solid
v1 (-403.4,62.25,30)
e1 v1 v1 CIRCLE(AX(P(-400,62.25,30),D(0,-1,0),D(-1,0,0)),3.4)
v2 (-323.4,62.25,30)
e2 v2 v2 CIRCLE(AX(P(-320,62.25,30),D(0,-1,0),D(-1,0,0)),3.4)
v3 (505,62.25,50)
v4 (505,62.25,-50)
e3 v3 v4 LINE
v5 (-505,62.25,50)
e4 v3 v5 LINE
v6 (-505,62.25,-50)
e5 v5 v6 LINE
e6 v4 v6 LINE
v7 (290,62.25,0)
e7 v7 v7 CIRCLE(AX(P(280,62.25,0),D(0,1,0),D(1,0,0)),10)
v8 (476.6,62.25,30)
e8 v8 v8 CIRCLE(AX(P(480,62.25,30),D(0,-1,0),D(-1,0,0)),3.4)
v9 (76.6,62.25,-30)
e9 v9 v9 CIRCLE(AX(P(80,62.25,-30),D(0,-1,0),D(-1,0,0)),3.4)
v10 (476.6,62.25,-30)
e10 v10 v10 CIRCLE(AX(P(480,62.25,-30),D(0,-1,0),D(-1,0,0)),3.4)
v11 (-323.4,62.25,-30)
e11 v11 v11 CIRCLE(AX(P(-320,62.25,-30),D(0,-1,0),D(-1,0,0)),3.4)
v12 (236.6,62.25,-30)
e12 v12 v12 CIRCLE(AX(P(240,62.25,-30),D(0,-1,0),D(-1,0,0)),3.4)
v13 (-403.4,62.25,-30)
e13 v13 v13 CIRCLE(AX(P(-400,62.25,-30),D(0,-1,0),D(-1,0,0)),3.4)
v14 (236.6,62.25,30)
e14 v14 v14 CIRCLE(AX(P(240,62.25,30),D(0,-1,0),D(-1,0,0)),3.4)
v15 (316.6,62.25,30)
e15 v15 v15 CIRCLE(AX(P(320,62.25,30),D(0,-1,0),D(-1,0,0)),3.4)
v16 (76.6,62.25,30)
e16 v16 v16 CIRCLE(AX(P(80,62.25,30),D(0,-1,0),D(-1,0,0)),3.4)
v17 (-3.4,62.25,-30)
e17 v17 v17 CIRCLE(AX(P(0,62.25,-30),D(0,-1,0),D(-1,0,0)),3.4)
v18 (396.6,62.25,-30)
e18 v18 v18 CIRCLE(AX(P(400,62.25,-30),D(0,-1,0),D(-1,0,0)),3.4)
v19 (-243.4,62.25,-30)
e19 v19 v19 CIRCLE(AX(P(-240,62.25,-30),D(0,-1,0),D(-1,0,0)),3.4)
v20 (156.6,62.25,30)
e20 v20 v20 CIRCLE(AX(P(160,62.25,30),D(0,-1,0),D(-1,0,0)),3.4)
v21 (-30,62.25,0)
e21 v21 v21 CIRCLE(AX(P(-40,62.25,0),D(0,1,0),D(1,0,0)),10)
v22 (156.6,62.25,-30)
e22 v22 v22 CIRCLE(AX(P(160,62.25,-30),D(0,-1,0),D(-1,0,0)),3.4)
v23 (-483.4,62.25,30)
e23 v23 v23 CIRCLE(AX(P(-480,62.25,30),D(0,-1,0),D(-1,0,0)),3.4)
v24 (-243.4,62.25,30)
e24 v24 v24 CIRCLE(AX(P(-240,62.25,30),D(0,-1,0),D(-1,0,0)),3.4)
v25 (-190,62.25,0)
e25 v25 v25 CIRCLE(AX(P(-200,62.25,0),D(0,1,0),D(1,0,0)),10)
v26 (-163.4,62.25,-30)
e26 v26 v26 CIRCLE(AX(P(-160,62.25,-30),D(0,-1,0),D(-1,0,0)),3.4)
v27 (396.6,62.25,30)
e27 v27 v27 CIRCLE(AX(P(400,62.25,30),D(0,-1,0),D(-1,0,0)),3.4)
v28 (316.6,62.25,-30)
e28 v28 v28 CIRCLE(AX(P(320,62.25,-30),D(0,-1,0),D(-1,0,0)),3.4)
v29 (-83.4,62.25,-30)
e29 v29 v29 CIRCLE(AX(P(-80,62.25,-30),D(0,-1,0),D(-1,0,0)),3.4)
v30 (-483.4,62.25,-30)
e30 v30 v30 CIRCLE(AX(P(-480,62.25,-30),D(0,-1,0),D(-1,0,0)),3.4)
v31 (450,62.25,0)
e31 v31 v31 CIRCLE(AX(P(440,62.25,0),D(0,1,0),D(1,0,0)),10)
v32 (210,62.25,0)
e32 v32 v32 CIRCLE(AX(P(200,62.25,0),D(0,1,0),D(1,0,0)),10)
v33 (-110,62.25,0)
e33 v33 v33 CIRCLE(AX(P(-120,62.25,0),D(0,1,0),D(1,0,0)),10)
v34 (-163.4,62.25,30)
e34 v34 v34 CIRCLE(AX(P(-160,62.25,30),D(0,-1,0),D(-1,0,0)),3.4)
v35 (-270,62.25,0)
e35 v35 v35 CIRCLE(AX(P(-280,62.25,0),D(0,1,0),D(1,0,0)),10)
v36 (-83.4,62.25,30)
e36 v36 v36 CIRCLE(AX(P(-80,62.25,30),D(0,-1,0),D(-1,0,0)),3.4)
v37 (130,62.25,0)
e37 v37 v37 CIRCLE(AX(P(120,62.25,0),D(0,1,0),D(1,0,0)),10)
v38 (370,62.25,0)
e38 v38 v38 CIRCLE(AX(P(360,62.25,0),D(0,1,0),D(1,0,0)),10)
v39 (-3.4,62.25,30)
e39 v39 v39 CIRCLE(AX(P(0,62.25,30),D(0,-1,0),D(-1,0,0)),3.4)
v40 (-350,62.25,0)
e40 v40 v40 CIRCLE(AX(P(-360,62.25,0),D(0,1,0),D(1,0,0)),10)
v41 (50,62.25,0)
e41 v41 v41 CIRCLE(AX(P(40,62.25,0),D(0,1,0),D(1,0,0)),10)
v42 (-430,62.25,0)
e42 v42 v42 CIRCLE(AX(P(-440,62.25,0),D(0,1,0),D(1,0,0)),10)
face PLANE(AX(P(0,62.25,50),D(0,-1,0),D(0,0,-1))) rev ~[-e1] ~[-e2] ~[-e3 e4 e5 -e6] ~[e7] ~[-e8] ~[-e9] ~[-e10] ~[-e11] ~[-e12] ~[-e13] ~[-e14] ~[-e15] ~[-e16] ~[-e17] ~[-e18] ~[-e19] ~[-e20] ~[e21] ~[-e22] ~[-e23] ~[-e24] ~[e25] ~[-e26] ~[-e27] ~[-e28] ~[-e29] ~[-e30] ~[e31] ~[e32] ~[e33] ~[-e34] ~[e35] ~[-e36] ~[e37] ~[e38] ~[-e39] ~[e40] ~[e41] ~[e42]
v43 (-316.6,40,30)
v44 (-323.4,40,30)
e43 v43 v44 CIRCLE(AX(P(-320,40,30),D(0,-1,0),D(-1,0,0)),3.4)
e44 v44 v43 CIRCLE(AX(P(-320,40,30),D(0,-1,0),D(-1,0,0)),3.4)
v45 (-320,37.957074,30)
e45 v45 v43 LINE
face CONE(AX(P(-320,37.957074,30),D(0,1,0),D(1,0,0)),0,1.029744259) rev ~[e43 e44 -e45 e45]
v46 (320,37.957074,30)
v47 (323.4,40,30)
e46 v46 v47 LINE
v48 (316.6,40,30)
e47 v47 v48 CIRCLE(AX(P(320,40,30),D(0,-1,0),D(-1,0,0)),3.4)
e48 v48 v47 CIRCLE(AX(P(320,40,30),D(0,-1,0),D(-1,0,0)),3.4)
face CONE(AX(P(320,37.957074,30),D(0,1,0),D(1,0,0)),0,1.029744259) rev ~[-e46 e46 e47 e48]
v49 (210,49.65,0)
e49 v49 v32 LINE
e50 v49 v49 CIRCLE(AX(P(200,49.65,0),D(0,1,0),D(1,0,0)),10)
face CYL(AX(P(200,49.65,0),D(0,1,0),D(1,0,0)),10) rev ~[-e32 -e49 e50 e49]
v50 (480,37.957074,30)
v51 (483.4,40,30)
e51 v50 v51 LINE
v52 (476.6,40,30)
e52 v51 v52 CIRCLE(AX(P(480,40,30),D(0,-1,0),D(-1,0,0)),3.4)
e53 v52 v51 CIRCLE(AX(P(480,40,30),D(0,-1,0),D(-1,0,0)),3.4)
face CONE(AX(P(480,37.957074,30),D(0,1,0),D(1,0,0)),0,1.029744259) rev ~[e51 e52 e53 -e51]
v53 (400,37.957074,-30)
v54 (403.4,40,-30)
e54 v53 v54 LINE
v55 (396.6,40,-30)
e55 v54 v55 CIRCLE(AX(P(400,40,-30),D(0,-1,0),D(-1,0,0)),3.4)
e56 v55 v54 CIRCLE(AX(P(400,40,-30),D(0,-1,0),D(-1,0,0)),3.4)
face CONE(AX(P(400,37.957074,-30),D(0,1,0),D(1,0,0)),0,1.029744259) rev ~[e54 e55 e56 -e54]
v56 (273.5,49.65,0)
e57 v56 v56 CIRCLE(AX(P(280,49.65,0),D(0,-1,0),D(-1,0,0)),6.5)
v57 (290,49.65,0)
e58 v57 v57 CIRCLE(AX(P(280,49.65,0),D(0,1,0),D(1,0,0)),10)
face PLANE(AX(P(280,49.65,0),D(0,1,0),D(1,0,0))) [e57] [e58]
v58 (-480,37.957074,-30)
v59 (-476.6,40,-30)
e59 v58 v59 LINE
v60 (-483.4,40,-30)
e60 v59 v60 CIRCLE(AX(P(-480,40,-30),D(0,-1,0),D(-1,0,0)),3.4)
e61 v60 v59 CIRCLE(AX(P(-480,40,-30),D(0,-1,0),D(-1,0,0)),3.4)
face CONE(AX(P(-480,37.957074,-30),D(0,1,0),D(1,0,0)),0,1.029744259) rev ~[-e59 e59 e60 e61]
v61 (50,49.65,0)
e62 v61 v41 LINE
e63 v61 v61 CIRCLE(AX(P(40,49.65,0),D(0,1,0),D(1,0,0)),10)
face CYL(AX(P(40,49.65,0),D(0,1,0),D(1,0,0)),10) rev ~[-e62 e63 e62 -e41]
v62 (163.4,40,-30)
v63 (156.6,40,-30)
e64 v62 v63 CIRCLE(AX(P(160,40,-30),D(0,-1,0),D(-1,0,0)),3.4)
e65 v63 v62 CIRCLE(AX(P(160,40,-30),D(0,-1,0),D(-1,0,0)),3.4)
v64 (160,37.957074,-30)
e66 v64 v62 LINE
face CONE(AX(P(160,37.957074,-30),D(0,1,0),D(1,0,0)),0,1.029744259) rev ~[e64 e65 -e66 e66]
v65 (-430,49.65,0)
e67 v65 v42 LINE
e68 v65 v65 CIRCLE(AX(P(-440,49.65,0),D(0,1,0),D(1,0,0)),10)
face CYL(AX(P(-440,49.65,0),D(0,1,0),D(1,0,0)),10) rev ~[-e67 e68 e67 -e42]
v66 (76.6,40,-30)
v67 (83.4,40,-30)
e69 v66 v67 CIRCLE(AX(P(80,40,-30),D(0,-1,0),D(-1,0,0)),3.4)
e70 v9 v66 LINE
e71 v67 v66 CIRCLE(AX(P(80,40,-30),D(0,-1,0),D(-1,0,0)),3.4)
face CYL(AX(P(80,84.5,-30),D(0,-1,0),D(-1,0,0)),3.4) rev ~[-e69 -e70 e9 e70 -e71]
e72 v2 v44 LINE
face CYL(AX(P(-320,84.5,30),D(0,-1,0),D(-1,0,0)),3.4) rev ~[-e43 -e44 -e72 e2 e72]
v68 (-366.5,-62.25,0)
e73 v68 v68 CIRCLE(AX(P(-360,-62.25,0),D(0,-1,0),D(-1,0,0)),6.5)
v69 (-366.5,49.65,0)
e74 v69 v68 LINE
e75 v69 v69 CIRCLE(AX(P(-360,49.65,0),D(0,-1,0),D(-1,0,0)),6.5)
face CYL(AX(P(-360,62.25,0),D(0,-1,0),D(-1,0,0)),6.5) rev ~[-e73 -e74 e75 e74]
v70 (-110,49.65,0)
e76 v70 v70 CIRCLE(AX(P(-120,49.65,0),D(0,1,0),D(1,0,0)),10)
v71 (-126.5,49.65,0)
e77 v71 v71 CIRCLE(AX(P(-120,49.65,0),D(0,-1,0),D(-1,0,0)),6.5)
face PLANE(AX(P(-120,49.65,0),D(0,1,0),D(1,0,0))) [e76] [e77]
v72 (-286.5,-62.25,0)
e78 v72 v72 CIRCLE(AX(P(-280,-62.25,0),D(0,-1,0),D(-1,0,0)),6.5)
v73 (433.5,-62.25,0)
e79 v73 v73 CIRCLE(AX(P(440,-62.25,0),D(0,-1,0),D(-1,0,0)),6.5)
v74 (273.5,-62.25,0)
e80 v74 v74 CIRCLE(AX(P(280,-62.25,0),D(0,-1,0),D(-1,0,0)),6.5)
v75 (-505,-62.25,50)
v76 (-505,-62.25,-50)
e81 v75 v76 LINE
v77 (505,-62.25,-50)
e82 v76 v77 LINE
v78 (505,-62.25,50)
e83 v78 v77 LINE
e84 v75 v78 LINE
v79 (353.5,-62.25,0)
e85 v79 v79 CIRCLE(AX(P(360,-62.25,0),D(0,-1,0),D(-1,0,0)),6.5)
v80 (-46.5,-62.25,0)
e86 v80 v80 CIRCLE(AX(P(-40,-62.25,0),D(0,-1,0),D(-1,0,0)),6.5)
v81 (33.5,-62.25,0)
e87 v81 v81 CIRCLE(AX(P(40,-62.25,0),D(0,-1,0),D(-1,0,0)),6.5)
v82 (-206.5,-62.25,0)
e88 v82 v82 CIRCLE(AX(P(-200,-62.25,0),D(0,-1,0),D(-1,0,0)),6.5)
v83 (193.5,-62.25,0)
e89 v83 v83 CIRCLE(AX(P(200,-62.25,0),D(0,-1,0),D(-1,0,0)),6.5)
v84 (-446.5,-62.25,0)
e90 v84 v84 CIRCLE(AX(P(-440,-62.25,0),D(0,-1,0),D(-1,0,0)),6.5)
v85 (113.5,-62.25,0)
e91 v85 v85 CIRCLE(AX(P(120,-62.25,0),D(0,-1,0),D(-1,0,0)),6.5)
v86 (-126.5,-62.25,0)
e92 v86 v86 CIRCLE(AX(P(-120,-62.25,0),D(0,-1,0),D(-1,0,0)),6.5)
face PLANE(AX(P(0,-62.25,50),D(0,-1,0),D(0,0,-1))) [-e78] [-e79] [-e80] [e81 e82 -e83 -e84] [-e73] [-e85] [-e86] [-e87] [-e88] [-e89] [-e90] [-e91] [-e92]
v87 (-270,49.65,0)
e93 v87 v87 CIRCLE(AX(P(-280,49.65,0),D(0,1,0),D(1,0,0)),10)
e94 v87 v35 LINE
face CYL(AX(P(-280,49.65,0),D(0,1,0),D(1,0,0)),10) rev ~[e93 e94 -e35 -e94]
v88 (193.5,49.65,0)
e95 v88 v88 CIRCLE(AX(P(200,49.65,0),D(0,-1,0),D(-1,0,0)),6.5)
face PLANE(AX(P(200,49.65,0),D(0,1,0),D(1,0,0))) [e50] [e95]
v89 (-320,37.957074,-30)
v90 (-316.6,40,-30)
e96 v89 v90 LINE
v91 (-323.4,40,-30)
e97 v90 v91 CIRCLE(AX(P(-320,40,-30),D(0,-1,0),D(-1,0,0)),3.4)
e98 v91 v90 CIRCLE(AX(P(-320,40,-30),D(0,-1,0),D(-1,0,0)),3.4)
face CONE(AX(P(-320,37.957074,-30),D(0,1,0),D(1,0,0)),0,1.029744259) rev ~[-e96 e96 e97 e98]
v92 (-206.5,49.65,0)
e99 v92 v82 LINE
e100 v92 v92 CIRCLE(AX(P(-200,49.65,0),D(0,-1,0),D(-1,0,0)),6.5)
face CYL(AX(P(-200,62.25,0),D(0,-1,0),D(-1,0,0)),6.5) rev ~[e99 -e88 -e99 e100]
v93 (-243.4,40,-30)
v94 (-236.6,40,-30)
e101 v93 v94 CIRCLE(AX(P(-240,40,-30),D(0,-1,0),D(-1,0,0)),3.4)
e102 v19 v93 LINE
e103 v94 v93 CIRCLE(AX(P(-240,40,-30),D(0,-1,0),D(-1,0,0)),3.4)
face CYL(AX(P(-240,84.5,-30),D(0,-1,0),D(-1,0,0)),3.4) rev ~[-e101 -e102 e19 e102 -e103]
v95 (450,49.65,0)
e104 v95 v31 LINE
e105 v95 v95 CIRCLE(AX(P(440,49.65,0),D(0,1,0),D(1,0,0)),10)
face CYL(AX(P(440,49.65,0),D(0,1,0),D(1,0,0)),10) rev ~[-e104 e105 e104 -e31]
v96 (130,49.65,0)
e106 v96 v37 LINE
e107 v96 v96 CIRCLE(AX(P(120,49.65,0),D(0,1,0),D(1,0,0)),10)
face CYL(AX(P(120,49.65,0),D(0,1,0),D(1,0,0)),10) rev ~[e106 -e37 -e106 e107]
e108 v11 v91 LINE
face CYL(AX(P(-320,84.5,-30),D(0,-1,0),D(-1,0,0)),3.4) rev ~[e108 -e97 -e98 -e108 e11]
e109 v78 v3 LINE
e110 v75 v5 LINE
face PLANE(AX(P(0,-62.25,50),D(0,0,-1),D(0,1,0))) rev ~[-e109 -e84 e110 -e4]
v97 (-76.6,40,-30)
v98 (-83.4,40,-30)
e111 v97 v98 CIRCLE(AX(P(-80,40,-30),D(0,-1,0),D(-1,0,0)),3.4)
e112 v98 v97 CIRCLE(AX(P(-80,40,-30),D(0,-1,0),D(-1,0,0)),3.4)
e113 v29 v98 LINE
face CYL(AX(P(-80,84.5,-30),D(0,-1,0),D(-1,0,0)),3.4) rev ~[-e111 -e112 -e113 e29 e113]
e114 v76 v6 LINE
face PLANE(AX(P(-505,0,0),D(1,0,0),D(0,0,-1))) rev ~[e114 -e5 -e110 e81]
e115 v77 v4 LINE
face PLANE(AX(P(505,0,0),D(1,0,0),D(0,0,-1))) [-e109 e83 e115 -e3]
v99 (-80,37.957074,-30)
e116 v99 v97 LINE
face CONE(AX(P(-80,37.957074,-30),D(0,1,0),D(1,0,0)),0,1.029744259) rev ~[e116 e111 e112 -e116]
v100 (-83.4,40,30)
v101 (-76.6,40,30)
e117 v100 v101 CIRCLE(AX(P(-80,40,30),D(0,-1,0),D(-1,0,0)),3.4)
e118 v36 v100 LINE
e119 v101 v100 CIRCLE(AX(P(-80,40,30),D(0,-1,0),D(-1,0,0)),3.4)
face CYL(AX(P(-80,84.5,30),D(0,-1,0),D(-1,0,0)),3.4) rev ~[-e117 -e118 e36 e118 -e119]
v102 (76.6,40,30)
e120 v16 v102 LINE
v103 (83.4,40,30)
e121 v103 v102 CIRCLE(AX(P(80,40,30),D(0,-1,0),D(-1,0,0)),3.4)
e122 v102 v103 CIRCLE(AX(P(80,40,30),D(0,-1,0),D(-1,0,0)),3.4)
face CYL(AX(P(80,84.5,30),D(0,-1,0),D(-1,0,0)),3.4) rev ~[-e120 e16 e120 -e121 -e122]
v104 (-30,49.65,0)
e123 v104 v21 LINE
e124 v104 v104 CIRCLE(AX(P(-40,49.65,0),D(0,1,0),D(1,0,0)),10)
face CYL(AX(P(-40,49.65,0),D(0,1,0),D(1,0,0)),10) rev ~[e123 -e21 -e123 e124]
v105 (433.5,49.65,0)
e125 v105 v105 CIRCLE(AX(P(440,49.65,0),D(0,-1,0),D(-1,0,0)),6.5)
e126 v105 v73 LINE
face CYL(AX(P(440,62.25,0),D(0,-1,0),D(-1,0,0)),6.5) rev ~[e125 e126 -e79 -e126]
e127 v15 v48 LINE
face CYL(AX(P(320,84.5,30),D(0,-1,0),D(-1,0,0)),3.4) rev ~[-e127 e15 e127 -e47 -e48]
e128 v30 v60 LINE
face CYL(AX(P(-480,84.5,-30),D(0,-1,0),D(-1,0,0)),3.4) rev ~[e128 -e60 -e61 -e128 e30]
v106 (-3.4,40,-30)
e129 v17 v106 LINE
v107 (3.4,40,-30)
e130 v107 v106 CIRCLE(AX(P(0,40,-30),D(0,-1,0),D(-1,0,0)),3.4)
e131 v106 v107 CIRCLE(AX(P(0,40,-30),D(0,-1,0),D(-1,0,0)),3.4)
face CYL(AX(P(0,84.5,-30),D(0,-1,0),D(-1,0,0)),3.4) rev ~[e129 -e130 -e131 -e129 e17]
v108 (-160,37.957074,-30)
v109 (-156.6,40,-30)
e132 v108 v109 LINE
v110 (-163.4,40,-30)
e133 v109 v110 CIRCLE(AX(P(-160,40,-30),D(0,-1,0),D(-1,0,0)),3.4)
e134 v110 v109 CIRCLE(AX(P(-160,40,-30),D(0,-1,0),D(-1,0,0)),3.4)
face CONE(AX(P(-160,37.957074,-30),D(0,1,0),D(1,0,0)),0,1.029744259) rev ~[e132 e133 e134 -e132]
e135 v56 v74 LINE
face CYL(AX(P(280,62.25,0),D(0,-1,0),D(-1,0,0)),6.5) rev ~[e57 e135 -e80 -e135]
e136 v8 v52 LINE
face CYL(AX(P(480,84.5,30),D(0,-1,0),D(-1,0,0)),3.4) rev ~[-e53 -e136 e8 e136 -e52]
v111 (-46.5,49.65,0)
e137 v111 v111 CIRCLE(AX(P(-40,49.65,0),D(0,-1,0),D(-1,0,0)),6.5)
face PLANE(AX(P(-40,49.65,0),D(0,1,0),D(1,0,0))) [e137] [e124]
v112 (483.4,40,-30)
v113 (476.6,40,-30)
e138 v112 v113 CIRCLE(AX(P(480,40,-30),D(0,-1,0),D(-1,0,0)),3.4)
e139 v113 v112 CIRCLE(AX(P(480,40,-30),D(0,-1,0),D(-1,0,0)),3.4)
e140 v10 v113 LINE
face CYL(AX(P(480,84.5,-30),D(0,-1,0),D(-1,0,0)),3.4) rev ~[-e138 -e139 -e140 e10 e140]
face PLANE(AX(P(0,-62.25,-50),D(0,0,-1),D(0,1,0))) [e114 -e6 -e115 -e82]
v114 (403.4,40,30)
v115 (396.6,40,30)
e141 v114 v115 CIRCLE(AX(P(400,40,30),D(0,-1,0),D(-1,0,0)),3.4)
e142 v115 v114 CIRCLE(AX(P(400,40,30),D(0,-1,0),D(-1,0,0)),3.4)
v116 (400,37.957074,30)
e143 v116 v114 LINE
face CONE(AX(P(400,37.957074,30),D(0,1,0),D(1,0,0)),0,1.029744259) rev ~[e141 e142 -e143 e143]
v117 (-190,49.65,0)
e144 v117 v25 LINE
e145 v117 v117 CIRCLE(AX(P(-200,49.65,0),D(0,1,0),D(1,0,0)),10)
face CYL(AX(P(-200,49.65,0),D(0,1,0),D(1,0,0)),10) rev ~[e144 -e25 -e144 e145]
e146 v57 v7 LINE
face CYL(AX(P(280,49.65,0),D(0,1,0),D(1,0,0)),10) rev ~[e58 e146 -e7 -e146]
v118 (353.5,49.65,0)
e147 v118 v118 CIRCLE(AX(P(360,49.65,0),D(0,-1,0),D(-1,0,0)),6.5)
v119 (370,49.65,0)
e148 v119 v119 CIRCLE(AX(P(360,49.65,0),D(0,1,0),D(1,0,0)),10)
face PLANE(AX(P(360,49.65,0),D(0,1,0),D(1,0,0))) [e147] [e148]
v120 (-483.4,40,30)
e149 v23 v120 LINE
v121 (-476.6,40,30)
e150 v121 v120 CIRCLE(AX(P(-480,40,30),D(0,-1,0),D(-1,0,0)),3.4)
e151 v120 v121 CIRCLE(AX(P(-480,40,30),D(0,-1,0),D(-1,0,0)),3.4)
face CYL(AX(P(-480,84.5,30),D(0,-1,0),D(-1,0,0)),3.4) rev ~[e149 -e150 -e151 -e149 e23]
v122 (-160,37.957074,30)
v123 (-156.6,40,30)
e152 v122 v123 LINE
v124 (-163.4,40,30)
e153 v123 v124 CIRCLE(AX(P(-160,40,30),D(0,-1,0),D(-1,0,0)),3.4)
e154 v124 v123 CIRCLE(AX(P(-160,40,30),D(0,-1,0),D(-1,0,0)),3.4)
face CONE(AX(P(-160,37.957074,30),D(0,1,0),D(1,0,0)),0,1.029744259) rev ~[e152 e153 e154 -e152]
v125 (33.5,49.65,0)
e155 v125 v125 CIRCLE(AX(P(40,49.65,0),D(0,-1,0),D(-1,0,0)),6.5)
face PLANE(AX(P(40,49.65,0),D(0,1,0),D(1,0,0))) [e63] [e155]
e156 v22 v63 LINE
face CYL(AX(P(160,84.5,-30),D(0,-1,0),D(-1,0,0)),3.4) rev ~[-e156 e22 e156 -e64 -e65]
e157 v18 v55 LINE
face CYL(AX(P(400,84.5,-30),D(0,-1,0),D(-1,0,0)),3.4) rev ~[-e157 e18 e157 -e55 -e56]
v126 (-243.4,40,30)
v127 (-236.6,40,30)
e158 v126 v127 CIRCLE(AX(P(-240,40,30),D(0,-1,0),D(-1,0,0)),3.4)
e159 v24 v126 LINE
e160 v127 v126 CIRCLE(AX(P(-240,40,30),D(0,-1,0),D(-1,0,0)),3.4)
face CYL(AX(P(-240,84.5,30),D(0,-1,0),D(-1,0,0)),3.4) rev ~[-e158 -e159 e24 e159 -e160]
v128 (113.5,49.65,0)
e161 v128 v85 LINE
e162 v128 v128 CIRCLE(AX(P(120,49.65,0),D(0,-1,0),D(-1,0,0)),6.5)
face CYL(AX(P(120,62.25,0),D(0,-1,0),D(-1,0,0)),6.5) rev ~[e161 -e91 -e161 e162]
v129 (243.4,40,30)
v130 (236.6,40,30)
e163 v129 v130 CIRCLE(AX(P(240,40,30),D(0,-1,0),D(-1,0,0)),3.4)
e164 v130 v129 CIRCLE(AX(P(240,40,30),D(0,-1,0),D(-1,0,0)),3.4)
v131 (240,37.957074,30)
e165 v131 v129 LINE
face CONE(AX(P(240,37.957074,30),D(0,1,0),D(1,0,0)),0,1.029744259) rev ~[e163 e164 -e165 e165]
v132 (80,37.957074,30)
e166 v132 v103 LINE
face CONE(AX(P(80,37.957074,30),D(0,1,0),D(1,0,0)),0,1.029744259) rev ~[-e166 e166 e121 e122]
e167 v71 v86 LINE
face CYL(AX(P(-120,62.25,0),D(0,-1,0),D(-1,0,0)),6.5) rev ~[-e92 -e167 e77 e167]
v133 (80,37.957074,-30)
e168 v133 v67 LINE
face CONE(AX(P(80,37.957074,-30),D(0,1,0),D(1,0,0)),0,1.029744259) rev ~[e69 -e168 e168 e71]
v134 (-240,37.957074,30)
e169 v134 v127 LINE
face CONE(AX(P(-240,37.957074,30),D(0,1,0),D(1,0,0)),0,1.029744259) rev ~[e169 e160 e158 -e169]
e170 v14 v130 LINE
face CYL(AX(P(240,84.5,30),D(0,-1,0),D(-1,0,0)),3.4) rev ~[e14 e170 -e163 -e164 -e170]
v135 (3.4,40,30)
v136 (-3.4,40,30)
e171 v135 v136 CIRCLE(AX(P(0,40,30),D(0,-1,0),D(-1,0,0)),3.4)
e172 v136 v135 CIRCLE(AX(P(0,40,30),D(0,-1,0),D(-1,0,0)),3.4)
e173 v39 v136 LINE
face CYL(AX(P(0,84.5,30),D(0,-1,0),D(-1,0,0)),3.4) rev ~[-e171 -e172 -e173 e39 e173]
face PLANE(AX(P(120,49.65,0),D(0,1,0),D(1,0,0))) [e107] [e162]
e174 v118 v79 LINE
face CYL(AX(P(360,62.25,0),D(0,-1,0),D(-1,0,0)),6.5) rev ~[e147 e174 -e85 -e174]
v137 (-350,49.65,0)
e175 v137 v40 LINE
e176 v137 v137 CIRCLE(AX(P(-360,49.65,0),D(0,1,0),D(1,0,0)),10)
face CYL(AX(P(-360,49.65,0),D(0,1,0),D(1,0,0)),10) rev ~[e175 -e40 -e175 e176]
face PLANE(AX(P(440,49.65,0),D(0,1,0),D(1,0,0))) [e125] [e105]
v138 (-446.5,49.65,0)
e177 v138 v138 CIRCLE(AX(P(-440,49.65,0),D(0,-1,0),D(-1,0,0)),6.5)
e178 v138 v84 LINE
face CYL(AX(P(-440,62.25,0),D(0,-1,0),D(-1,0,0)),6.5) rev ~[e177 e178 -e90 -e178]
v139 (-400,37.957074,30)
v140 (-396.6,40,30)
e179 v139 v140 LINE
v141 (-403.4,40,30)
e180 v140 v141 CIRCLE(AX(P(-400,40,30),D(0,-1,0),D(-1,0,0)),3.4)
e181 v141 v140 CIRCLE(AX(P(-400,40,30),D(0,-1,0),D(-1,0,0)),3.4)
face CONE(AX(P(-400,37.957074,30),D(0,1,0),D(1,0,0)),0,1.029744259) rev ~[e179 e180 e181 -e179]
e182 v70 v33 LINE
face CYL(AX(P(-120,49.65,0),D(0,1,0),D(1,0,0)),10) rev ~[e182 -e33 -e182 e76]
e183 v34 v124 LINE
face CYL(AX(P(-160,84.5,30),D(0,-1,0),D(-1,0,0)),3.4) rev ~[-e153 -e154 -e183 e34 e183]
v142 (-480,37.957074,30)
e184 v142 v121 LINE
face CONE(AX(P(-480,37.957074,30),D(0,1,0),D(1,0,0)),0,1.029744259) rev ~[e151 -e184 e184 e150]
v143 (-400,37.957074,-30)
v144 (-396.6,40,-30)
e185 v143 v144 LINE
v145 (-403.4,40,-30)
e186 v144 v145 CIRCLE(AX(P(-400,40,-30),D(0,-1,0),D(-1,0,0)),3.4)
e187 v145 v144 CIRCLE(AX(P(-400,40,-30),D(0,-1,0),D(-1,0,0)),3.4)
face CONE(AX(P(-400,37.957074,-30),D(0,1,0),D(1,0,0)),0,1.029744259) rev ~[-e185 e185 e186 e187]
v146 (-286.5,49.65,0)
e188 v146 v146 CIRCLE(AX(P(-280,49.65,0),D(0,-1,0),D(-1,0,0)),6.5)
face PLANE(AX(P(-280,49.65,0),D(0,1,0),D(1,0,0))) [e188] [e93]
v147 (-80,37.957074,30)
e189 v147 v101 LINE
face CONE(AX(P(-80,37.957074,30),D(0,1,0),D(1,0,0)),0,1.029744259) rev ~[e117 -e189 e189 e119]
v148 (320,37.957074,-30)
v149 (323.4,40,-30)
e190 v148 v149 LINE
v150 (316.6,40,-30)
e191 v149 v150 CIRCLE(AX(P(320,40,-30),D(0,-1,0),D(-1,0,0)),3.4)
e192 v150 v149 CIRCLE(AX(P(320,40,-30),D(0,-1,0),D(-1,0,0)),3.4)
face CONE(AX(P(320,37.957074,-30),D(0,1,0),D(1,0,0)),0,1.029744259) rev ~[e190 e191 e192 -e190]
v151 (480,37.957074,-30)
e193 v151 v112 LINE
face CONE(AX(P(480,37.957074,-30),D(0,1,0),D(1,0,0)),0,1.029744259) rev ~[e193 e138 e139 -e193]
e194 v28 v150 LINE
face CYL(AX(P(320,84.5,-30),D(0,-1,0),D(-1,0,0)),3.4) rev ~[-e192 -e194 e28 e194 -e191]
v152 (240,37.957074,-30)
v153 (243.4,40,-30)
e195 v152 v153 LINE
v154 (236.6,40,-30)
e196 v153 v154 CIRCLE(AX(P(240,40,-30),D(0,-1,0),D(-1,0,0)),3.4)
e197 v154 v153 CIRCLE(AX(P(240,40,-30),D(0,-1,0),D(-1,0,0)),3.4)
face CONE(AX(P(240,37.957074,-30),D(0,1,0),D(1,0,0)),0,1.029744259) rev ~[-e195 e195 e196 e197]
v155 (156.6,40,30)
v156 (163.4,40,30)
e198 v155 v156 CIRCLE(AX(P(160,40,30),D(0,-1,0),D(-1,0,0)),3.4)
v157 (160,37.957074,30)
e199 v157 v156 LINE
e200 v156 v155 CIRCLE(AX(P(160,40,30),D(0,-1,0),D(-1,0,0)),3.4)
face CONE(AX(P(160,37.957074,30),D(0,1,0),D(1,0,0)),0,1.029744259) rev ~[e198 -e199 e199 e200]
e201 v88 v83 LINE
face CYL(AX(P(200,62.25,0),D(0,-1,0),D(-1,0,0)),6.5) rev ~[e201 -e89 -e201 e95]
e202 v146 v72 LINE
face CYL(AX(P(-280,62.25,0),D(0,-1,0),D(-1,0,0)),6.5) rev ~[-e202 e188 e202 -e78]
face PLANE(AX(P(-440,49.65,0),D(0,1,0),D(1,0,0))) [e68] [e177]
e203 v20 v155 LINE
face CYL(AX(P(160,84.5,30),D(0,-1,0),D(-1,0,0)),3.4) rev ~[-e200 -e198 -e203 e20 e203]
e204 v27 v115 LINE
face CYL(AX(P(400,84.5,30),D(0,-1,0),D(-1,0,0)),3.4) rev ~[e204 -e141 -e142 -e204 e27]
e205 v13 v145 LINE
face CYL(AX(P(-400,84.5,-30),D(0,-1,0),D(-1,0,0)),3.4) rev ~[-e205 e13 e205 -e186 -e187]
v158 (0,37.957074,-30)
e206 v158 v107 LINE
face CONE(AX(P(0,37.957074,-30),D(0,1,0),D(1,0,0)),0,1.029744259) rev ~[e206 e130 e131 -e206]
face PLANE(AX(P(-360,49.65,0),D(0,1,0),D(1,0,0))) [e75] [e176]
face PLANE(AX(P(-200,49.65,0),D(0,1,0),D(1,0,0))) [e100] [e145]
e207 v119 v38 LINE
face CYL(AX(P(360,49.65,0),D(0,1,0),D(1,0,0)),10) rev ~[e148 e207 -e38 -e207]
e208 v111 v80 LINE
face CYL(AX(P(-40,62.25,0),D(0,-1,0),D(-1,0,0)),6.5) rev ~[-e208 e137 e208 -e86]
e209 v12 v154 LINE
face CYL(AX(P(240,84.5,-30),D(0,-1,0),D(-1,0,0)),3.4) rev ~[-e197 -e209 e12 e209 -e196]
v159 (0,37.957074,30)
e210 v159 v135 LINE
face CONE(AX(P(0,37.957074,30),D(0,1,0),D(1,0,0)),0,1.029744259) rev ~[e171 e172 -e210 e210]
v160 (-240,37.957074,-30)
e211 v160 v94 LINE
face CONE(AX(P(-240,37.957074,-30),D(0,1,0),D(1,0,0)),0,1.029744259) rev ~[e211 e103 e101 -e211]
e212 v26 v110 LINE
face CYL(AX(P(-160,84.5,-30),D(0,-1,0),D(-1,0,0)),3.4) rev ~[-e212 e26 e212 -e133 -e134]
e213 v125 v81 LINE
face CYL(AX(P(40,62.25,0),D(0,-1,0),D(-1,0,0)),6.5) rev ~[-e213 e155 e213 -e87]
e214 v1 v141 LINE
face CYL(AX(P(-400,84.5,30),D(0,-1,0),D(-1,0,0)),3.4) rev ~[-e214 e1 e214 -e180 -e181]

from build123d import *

# Parameters (mm, degrees)
SKETCH1_W                                            = 100
SKETCH1_H                                            = 124.5
BOSS_EXTRUDE1_DEPTH                                  = 505
M8_TAPPED_HOLE1_D                                    = 6.8
M8_TAPPED_HOLE1_DEPTH                                = 22.25
M8_TAPPED_HOLE1_TIP                                  = 2.042926105
CBORE_FOR_M12_HEX_SOCKET_HEAD_CAP_SCREW1_D           = 13
CBORE_FOR_M12_HEX_SOCKET_HEAD_CAP_SCREW1_CBORE_D     = 20
CBORE_FOR_M12_HEX_SOCKET_HEAD_CAP_SCREW1_CBORE_DEPTH = 12.6
LPATTERN1_COUNT                                      = 12
LPATTERN1_PITCH                                      = 80


with BuildPart() as part:
    # Sketch1 → Boss-Extrude1 (new, symmetric)
    with BuildSketch(Plane(origin=(0, 0, 0), x_dir=(0, 0, -1), z_dir=(1, 0, 0))):
        Rectangle(SKETCH1_W, SKETCH1_H)
    extrude(amount=BOSS_EXTRUDE1_DEPTH, both=True)

    # M8 Tapped Hole1
    with Locations(Plane(origin=(0, 62.25, 0), x_dir=(1, 0, 0), z_dir=(0, 1, 0))):
        with Locations((480, 30), (480, -30), (400, 30), (400, -30), (320, 30), (320, -30), (240, -30), (240, 30), (160, 30), (160, -30), (80, 30), (80, -30), (0, -30), (0, 30), (-80, -30), (-80, 30), (-160, -30), (-160, 30), (-240, -30), (-240, 30), (-320, -30), (-320, 30), (-400, -30), (-400, 30), (-480, 30), (-480, -30)):
            Hole(M8_TAPPED_HOLE1_D / 2, depth=M8_TAPPED_HOLE1_DEPTH)
            with Locations((0, 0, -(M8_TAPPED_HOLE1_DEPTH + M8_TAPPED_HOLE1_TIP / 2))):  # 118° drill point
                Cone(0, M8_TAPPED_HOLE1_D / 2, M8_TAPPED_HOLE1_TIP, mode=Mode.SUBTRACT)

    # CBORE for M12 Hex Socket Head Cap Screw1 (through all)
    with Locations(Plane(origin=(0, 62.25, 0), x_dir=(1, 0, 0), z_dir=(0, 1, 0))):
        with Locations((440, 0)):
            cbore_for_m12_hex_socket_head_cap_screw1 = CounterBoreHole(CBORE_FOR_M12_HEX_SOCKET_HEAD_CAP_SCREW1_D / 2, CBORE_FOR_M12_HEX_SOCKET_HEAD_CAP_SCREW1_CBORE_D / 2, CBORE_FOR_M12_HEX_SOCKET_HEAD_CAP_SCREW1_CBORE_DEPTH)

    # LPattern1: CBORE for M12 Hex Socket Head Cap Screw1 ×12
    with Locations(*[(-i * LPATTERN1_PITCH, 0, 0) for i in range(1, LPATTERN1_COUNT)]):
        add(cbore_for_m12_hex_socket_head_cap_screw1, mode=Mode.SUBTRACT)


solid = part.part
